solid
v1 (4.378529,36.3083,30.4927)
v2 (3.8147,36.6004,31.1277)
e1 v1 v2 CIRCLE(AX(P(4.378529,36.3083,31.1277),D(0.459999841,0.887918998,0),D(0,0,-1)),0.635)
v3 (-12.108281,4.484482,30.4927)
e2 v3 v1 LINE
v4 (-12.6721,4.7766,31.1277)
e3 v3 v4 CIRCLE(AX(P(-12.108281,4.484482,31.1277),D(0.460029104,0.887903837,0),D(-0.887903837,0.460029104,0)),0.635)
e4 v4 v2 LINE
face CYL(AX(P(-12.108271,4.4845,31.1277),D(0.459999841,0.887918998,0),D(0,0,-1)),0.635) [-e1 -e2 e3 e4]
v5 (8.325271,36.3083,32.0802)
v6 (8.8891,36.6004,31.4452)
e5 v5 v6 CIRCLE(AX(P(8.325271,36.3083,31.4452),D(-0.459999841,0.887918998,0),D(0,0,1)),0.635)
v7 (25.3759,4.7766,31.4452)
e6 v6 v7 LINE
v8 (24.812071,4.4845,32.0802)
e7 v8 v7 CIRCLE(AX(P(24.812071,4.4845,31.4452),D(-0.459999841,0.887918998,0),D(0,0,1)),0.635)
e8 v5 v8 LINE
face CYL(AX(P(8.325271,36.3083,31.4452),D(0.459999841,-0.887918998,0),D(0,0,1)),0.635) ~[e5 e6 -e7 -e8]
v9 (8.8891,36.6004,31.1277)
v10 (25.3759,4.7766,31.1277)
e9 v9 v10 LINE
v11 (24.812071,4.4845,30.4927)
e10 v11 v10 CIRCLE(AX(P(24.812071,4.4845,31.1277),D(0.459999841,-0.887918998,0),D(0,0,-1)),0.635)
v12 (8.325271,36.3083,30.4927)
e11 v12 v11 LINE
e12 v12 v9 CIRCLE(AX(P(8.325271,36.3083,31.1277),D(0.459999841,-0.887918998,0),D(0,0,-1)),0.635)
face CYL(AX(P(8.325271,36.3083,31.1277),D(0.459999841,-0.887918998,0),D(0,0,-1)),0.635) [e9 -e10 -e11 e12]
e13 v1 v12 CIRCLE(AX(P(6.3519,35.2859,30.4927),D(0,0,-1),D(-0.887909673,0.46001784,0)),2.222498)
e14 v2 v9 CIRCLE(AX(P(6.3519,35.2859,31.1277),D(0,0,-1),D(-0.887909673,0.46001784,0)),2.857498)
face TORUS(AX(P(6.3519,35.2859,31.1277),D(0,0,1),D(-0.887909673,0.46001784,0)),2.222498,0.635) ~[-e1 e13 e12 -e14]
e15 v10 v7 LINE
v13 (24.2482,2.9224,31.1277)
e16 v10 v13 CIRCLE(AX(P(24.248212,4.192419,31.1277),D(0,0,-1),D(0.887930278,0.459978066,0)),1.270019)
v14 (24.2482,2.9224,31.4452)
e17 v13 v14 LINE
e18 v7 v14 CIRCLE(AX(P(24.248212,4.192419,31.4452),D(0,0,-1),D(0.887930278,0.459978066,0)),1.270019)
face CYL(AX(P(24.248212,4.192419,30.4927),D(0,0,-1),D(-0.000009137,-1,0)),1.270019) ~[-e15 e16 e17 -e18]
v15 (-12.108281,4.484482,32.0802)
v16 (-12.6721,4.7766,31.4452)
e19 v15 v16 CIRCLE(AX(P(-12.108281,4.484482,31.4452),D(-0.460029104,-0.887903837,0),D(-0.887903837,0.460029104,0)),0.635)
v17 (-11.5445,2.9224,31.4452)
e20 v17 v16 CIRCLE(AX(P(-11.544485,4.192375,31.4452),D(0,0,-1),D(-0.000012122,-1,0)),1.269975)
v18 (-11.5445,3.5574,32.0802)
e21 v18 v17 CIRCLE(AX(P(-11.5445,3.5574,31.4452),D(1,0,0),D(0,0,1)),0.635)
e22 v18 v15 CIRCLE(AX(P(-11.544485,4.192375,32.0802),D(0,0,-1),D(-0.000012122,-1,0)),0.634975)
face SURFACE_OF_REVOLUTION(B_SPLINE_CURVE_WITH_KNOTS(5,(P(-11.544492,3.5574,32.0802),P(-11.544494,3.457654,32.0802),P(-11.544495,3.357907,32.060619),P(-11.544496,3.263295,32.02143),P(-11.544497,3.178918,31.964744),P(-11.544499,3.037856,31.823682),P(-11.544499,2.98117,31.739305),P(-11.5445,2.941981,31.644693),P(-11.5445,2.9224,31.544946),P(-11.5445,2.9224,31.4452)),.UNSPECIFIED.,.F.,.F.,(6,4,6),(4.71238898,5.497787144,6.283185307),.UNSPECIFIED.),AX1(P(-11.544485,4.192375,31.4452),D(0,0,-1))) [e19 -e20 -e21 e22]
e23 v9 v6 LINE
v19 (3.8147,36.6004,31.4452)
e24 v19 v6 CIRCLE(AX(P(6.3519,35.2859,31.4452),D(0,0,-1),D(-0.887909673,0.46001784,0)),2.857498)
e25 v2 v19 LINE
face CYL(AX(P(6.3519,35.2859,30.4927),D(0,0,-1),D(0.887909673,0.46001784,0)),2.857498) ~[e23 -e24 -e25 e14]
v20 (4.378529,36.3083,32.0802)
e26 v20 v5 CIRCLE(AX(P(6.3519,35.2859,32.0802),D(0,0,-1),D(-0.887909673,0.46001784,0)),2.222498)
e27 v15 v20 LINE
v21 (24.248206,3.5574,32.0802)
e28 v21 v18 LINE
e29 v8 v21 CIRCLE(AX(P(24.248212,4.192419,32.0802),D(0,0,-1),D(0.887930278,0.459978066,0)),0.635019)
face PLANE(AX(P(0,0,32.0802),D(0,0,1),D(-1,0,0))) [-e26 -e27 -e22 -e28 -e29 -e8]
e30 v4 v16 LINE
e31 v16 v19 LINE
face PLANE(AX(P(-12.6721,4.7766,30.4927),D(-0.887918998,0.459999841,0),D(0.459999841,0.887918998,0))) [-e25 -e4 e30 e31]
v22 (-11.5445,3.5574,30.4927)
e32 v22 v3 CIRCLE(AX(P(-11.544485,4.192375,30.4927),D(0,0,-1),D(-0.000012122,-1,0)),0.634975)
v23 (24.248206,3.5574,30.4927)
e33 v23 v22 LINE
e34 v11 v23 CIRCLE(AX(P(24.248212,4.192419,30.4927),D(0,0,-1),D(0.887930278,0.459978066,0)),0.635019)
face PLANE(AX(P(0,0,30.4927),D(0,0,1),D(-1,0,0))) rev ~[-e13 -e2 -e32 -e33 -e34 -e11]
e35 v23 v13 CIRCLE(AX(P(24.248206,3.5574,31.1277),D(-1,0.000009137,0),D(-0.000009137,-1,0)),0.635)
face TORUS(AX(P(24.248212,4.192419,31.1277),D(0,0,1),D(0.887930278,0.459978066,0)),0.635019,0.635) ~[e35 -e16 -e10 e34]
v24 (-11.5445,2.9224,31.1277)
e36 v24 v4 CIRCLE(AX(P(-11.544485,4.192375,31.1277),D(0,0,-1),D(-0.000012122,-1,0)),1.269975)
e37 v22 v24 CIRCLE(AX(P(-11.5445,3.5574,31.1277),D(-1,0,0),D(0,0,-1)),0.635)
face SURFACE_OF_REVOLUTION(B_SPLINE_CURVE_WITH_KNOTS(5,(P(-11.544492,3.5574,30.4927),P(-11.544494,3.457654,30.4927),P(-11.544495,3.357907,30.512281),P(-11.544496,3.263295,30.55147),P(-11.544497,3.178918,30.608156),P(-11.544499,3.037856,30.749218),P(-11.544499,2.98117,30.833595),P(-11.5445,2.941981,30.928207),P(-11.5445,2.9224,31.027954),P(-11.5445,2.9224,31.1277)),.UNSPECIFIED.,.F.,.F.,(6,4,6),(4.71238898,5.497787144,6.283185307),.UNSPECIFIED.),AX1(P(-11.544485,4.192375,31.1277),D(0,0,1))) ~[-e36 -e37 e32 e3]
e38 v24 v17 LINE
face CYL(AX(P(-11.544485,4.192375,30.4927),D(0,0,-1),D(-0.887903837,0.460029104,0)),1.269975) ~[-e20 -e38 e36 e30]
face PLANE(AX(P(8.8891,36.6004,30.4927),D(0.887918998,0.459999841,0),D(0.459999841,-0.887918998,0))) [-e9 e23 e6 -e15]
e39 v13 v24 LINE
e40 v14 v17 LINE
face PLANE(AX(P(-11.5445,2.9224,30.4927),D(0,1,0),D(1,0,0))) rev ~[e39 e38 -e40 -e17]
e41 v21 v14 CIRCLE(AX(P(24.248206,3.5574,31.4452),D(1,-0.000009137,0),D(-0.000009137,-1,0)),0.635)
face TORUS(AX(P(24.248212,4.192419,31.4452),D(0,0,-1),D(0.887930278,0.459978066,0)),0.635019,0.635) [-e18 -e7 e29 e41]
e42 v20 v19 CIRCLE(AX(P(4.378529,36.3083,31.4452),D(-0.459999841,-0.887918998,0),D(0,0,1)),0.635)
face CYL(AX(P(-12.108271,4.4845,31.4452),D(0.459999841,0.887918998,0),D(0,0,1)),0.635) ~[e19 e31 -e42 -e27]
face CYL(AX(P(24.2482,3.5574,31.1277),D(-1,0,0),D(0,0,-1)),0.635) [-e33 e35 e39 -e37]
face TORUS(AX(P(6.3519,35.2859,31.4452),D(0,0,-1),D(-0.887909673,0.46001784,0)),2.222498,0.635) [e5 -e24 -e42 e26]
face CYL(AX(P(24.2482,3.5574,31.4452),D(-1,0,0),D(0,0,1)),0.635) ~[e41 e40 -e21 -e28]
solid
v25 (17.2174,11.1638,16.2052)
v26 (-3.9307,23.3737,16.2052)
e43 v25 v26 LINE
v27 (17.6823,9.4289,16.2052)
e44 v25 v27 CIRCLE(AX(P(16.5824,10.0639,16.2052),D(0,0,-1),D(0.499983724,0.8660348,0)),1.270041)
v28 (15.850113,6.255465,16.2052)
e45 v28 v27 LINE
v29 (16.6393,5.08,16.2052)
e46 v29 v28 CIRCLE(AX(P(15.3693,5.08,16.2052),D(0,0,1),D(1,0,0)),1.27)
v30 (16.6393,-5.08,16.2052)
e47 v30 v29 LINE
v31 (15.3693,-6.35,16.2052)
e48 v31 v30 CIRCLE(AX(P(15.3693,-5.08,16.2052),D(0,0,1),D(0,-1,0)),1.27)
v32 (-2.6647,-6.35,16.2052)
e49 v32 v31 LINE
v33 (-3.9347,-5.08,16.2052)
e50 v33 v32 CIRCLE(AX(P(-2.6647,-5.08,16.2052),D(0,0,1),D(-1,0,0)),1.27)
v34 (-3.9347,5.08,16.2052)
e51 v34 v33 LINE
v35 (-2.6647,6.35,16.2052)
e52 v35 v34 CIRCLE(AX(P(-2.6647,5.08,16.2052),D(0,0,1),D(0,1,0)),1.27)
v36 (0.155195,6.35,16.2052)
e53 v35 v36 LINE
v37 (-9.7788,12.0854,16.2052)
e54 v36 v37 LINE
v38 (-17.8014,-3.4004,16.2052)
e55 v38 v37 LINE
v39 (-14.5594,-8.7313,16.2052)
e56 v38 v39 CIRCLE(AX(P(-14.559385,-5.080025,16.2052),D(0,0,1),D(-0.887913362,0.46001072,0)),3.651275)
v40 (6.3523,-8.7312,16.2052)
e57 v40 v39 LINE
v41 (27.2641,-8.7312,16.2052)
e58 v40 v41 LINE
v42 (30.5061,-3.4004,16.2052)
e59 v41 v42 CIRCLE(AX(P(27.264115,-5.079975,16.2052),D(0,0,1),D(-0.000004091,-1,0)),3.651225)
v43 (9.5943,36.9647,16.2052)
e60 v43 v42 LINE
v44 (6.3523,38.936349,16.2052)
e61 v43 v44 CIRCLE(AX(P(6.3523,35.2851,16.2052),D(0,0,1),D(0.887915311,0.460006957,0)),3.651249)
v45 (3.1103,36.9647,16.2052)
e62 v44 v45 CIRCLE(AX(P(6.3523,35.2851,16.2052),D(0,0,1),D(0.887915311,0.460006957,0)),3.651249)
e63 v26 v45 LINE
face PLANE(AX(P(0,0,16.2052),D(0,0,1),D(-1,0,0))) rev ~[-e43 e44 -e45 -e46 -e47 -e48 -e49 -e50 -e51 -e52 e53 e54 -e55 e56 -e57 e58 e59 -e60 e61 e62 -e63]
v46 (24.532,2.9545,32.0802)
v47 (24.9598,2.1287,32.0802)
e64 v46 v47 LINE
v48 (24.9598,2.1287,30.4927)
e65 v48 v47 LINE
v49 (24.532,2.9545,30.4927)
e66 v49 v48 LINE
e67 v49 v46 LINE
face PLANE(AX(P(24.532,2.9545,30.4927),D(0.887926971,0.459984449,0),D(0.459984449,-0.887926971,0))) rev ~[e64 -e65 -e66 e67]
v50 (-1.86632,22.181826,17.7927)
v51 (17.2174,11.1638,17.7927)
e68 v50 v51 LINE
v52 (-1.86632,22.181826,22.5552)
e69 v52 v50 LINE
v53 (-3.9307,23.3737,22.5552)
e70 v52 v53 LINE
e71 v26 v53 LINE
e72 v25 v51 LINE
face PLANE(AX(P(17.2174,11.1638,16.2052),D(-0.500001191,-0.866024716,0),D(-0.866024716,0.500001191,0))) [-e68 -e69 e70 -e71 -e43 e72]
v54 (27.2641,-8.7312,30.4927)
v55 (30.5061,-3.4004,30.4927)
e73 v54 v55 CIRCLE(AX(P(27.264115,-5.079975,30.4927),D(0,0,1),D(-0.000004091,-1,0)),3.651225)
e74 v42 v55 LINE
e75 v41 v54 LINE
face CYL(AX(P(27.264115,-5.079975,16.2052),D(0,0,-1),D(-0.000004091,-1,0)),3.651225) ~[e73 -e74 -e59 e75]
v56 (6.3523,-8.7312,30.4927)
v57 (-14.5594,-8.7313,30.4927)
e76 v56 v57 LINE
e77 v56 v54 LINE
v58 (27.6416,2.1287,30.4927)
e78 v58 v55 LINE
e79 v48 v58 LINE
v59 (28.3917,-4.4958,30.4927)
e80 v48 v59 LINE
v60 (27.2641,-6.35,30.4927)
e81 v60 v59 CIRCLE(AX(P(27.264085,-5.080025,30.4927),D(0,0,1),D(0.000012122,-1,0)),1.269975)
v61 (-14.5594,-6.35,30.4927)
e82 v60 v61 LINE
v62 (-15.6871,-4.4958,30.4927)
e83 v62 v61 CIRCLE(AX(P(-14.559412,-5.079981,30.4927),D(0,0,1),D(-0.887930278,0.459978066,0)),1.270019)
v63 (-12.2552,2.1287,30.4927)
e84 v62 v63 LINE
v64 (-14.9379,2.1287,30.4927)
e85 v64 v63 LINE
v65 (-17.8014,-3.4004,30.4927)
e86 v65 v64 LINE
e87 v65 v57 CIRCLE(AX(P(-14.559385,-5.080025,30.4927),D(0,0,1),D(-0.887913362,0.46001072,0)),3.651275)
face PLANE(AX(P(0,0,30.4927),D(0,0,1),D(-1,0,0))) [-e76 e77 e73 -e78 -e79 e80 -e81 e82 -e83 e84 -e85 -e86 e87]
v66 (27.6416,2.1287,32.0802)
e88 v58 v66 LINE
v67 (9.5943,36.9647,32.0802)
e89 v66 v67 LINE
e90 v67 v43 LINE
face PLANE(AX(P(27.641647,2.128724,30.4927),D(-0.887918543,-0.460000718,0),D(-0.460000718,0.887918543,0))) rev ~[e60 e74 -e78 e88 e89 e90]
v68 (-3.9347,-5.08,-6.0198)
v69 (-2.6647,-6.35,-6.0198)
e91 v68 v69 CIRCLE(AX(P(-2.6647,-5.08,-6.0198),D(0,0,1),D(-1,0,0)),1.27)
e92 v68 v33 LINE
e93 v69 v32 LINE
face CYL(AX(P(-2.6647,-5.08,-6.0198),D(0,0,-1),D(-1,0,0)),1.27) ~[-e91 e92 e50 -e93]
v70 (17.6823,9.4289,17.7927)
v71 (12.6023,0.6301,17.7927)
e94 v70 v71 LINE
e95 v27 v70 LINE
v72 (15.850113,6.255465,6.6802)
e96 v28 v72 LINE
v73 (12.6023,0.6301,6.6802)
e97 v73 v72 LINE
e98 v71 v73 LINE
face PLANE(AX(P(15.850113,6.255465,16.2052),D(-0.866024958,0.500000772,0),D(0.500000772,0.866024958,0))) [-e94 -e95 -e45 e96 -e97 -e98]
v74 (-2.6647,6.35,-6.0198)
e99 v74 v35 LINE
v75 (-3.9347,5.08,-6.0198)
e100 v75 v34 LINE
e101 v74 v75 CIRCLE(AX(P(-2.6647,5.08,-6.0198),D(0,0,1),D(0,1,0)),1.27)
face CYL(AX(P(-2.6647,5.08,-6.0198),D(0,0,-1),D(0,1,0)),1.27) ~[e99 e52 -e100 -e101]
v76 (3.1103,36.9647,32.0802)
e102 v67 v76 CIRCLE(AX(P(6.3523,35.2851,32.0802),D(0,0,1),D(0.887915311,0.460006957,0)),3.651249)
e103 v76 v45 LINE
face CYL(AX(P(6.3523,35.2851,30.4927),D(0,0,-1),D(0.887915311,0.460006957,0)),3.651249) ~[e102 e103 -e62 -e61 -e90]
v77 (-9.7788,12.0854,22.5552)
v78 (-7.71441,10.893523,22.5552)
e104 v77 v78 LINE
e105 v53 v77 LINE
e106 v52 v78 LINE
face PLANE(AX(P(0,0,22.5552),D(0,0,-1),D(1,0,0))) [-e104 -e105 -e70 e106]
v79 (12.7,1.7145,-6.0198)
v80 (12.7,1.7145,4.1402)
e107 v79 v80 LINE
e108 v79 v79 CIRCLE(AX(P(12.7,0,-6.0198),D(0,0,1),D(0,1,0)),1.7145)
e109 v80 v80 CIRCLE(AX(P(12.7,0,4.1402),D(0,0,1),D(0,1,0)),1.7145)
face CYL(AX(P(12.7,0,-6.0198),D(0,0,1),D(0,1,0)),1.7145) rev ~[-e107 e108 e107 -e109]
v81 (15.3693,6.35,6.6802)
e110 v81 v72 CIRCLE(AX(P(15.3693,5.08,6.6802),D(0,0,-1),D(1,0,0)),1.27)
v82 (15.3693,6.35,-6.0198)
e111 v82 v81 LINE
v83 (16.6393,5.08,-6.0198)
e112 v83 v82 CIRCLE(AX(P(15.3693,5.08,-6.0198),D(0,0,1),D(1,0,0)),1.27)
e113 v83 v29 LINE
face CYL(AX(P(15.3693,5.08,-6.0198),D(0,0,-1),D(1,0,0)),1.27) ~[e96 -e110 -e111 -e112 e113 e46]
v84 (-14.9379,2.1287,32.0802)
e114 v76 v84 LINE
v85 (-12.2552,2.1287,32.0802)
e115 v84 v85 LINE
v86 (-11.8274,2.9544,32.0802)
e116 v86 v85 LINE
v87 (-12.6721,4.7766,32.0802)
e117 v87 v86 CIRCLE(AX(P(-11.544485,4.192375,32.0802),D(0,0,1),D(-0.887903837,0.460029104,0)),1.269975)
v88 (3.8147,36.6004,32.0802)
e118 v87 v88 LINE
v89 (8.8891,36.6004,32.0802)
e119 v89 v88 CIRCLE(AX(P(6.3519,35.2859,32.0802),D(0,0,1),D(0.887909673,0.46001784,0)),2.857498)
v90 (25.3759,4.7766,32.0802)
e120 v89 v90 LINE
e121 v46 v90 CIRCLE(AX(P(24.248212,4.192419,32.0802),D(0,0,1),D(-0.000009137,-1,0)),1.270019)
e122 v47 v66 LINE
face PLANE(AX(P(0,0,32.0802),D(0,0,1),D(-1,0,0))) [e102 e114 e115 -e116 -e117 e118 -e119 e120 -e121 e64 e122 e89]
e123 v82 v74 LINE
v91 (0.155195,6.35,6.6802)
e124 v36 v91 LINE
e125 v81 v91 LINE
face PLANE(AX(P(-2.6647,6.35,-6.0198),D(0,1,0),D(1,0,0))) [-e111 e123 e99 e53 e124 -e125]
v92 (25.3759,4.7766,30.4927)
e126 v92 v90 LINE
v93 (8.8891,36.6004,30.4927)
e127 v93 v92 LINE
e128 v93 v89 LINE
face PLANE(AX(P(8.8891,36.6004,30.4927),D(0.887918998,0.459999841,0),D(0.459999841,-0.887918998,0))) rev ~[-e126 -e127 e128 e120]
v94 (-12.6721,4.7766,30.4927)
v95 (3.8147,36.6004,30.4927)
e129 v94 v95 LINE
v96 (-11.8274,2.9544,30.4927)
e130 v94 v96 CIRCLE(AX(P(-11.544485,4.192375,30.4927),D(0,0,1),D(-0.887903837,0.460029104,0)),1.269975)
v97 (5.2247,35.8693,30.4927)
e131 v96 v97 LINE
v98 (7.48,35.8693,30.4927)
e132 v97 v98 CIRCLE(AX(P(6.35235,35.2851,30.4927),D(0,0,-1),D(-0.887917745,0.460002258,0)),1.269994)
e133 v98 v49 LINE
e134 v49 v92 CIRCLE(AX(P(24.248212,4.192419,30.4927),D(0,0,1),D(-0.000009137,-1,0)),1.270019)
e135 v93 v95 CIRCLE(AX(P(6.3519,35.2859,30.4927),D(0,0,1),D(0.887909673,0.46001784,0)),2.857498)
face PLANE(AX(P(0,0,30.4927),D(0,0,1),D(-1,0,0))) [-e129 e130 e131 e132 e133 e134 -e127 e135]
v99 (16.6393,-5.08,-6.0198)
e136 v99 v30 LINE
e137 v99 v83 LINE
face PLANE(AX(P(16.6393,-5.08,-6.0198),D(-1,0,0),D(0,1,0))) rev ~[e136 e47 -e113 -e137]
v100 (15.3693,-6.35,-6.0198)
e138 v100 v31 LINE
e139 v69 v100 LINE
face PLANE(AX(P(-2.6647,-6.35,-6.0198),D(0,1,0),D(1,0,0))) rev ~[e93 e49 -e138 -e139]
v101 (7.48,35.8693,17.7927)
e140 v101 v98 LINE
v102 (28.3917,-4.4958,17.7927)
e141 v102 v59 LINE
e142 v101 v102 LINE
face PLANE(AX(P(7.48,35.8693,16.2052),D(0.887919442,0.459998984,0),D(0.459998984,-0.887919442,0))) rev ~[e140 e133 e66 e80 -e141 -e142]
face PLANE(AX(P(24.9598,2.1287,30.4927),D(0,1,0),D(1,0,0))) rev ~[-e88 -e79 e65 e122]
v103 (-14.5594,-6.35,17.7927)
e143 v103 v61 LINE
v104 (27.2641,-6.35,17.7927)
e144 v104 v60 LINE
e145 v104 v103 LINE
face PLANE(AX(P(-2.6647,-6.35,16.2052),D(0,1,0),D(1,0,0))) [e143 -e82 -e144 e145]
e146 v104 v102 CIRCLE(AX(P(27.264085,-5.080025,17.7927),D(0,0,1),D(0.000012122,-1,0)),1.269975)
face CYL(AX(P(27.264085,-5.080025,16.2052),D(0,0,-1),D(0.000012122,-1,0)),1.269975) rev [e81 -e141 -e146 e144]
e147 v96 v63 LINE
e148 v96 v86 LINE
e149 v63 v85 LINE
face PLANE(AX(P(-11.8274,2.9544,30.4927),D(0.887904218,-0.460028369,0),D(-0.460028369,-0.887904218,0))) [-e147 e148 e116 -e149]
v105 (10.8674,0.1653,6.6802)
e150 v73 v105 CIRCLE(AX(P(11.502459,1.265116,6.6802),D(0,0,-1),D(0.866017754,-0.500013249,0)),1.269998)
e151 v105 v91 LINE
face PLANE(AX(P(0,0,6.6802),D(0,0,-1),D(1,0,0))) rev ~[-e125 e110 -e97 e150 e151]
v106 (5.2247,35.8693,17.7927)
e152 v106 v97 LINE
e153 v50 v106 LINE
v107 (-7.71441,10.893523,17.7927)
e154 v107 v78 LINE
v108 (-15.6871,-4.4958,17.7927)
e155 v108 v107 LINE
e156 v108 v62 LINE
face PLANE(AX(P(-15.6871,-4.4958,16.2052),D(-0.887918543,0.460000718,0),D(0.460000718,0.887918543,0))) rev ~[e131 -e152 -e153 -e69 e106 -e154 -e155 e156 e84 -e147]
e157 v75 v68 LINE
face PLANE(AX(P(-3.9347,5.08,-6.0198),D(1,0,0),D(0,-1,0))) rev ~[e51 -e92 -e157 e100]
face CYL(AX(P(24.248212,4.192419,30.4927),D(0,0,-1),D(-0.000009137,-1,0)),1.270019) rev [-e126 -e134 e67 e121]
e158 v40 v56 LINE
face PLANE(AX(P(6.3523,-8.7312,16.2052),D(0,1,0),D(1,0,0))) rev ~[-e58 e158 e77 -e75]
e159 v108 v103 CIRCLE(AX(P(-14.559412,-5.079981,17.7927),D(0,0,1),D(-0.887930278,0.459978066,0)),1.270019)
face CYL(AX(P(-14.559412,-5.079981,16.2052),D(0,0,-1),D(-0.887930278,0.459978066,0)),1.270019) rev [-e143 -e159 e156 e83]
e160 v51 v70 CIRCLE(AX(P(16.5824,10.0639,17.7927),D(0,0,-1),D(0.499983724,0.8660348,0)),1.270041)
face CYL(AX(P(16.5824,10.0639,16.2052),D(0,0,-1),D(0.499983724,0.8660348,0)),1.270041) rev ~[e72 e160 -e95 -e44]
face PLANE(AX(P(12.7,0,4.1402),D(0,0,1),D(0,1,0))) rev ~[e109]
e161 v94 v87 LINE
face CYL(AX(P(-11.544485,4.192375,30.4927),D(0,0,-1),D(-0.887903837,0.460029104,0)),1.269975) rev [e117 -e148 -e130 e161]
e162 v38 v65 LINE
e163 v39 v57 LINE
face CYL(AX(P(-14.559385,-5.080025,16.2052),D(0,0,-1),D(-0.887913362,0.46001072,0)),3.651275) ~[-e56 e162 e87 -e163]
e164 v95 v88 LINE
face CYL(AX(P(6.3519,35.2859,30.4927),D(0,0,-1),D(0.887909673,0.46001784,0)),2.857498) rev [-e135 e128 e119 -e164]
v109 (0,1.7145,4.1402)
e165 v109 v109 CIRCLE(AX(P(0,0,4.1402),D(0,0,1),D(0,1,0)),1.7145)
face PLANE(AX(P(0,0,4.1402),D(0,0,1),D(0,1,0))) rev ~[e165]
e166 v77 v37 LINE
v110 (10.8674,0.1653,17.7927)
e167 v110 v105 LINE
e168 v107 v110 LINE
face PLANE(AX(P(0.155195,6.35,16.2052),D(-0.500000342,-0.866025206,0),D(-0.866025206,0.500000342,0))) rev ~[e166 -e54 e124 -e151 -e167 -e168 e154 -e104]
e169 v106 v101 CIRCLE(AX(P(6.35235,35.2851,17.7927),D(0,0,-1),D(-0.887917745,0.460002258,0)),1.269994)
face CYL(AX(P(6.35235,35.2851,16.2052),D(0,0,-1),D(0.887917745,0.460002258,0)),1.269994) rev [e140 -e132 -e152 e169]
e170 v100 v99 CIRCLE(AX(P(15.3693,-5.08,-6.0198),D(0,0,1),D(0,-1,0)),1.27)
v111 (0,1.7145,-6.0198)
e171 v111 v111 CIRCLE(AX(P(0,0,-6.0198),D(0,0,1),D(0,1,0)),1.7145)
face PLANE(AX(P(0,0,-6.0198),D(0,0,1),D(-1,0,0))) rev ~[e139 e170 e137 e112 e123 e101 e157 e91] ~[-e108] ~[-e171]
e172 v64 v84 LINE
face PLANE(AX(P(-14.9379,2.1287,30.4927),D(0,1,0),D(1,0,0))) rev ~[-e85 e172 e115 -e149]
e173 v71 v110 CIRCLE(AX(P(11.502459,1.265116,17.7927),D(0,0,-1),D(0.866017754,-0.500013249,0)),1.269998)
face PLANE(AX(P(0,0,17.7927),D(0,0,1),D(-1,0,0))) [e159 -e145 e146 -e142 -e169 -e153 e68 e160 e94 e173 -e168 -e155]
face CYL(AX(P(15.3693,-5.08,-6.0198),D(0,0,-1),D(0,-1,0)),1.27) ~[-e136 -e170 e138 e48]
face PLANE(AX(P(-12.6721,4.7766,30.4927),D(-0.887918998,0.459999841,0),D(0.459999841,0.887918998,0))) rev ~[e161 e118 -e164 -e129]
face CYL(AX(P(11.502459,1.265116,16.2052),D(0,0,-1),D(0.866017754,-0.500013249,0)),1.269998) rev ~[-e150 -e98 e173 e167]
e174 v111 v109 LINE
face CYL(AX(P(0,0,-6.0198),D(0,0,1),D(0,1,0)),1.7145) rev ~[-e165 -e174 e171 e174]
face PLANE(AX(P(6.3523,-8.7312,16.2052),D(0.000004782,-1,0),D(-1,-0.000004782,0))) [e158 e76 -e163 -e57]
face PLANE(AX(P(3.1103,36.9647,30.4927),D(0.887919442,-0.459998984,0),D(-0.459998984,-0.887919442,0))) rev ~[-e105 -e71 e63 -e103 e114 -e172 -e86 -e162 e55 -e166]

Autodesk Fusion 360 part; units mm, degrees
sketch "Sketch5" plane through (0, 0, -6.0198) normal (0, 0, 1) x (-1, 0, 0)
  line L0 (-4.0409, -57.15) -> (2.9359, -57.15)
  line L1 (2.9359, -57.15) -> (3.9347, -56.1512)
  line L2 (3.9347, -56.1512) -> (3.9347, 6.35)
  line L3 (3.9347, 6.35) -> (-16.6393, 6.35)
  line L4 (-16.6393, 6.35) -> (-16.6393, -56.1512)
  line L5 (-16.6393, -56.1512) -> (-15.6405, -57.15)
  line L6 (-15.6405, -57.15) -> (-8.6637, -57.15)
  line L7 (-8.6637, -57.15) -> (-8.6637, -55.3466)
  arc A0 (-8.1557, -54.8386) -> (-8.6637, -55.3466) centre (-8.1557, -55.3466) ccw
  line L8 (-8.1557, -54.8386) -> (-4.5489, -54.8386)
  arc A1 (-4.0409, -55.3466) -> (-4.5489, -54.8386) centre (-4.5489, -55.3466) ccw
  line L9 (-4.0409, -55.3466) -> (-4.0409, -57.15)
  arc A2 (-8.1557, -42.1386) -> (-8.6637, -42.6466) centre (-8.1557, -42.6466) ccw
  line L10 (-8.1557, -42.1386) -> (-4.5489, -42.1386)
  arc A3 (-4.0409, -42.6466) -> (-4.5489, -42.1386) centre (-4.5489, -42.6466) ccw
  line L11 (-4.0409, -42.6466) -> (-4.0409, -46.2534)
  arc A4 (-4.5489, -46.7614) -> (-4.0409, -46.2534) centre (-4.5489, -46.2534) ccw
  line L12 (-4.5489, -46.7614) -> (-8.1557, -46.7614)
  arc A5 (-8.6637, -46.2534) -> (-8.1557, -46.7614) centre (-8.1557, -46.2534) ccw
  line L13 (-8.6637, -46.2534) -> (-8.6637, -42.6466)
  arc A6 (-8.1557, -29.4386) -> (-8.6637, -29.9466) centre (-8.1557, -29.9466) ccw
  line L14 (-8.1557, -29.4386) -> (-4.5489, -29.4386)
  arc A7 (-4.0409, -29.9466) -> (-4.5489, -29.4386) centre (-4.5489, -29.9466) ccw
  line L15 (-4.0409, -29.9466) -> (-4.0409, -33.5534)
  arc A8 (-4.5489, -34.0614) -> (-4.0409, -33.5534) centre (-4.5489, -33.5534) ccw
  line L16 (-4.5489, -34.0614) -> (-8.1557, -34.0614)
  arc A9 (-8.6637, -33.5534) -> (-8.1557, -34.0614) centre (-8.1557, -33.5534) ccw
  line L17 (-8.6637, -33.5534) -> (-8.6637, -29.9466)
  arc A10 (1.8011, -53.1114) -> (2.3091, -52.6034) centre (1.8011, -52.6034) ccw
  line L18 (1.8011, -53.1114) -> (-1.8057, -53.1114)
  arc A11 (-2.3137, -52.6034) -> (-1.8057, -53.1114) centre (-1.8057, -52.6034) ccw
  line L19 (-2.3137, -52.6034) -> (-2.3137, -48.9966)
  arc A12 (-1.8057, -48.4886) -> (-2.3137, -48.9966) centre (-1.8057, -48.9966) ccw
  line L20 (-1.8057, -48.4886) -> (1.8011, -48.4886)
  arc A13 (2.3091, -48.9966) -> (1.8011, -48.4886) centre (1.8011, -48.9966) ccw
  line L21 (2.3091, -48.9966) -> (2.3091, -52.6034)
  arc A14 (1.8011, -40.4114) -> (2.3091, -39.9034) centre (1.8011, -39.9034) ccw
  line L22 (1.8011, -40.4114) -> (-1.8057, -40.4114)
  arc A15 (-2.3137, -39.9034) -> (-1.8057, -40.4114) centre (-1.8057, -39.9034) ccw
  line L23 (-2.3137, -39.9034) -> (-2.3137, -36.2966)
  arc A16 (-1.8057, -35.7886) -> (-2.3137, -36.2966) centre (-1.8057, -36.2966) ccw
  line L24 (-1.8057, -35.7886) -> (1.8011, -35.7886)
  arc A17 (2.3091, -36.2966) -> (1.8011, -35.7886) centre (1.8011, -36.2966) ccw
  line L25 (2.3091, -36.2966) -> (2.3091, -39.9034)
  arc A18 (1.8011, -27.7114) -> (2.3091, -27.2034) centre (1.8011, -27.2034) ccw
  line L26 (1.8011, -27.7114) -> (-1.8057, -27.7114)
  arc A19 (-2.3137, -27.2034) -> (-1.8057, -27.7114) centre (-1.8057, -27.2034) ccw
  line L27 (-2.3137, -27.2034) -> (-2.3137, -23.5966)
  arc A20 (-1.8057, -23.0886) -> (-2.3137, -23.5966) centre (-1.8057, -23.5966) ccw
  line L28 (-1.8057, -23.0886) -> (1.8011, -23.0886)
  arc A21 (2.3091, -23.5966) -> (1.8011, -23.0886) centre (1.8011, -23.5966) ccw
  line L29 (2.3091, -23.5966) -> (2.3091, -27.2034)
  arc A22 (1.8011, -15.0114) -> (2.3091, -14.5034) centre (1.8011, -14.5034) ccw
  line L30 (1.8011, -15.0114) -> (-1.8057, -15.0114)
  arc A23 (-2.3137, -14.5034) -> (-1.8057, -15.0114) centre (-1.8057, -14.5034) ccw
  line L31 (-2.3137, -14.5034) -> (-2.3137, -10.8966)
  arc A24 (-1.8057, -10.3886) -> (-2.3137, -10.8966) centre (-1.8057, -10.8966) ccw
  line L32 (-1.8057, -10.3886) -> (1.8011, -10.3886)
  arc A25 (2.3091, -10.8966) -> (1.8011, -10.3886) centre (1.8011, -10.8966) ccw
  line L33 (2.3091, -10.8966) -> (2.3091, -14.5034)
  arc A26 (1.8011, -2.3114) -> (2.3091, -1.8034) centre (1.8011, -1.8034) ccw
  line L34 (1.8011, -2.3114) -> (-1.8057, -2.3114)
  arc A27 (-2.3137, -1.8034) -> (-1.8057, -2.3114) centre (-1.8057, -1.8034) ccw
  line L35 (-2.3137, -1.8034) -> (-2.3137, 1.8034)
  arc A28 (-1.8057, 2.3114) -> (-2.3137, 1.8034) centre (-1.8057, 1.8034) ccw
  line L36 (-1.8057, 2.3114) -> (1.8011, 2.3114)
  arc A29 (2.3091, 1.8034) -> (1.8011, 2.3114) centre (1.8011, 1.8034) ccw
  line L37 (2.3091, 1.8034) -> (2.3091, -1.8034)
  arc A30 (-10.8989, -53.1114) -> (-10.3909, -52.6034) centre (-10.8989, -52.6034) ccw
  line L38 (-10.8989, -53.1114) -> (-14.5057, -53.1114)
  arc A31 (-15.0137, -52.6034) -> (-14.5057, -53.1114) centre (-14.5057, -52.6034) ccw
  line L39 (-15.0137, -52.6034) -> (-15.0137, -48.9966)
  arc A32 (-14.5057, -48.4886) -> (-15.0137, -48.9966) centre (-14.5057, -48.9966) ccw
  line L40 (-14.5057, -48.4886) -> (-10.8989, -48.4886)
  arc A33 (-10.3909, -48.9966) -> (-10.8989, -48.4886) centre (-10.8989, -48.9966) ccw
  line L41 (-10.3909, -48.9966) -> (-10.3909, -52.6034)
  arc A34 (-10.8989, -40.4114) -> (-10.3909, -39.9034) centre (-10.8989, -39.9034) ccw
  line L42 (-10.8989, -40.4114) -> (-14.5057, -40.4114)
  arc A35 (-15.0137, -39.9034) -> (-14.5057, -40.4114) centre (-14.5057, -39.9034) ccw
  line L43 (-15.0137, -39.9034) -> (-15.0137, -36.2966)
  arc A36 (-14.5057, -35.7886) -> (-15.0137, -36.2966) centre (-14.5057, -36.2966) ccw
  line L44 (-14.5057, -35.7886) -> (-10.8989, -35.7886)
  arc A37 (-10.3909, -36.2966) -> (-10.8989, -35.7886) centre (-10.8989, -36.2966) ccw
  line L45 (-10.3909, -36.2966) -> (-10.3909, -39.9034)
  arc A38 (-10.8989, -27.7114) -> (-10.3909, -27.2034) centre (-10.8989, -27.2034) ccw
  line L46 (-10.8989, -27.7114) -> (-14.5057, -27.7114)
  arc A39 (-15.0137, -27.2034) -> (-14.5057, -27.7114) centre (-14.5057, -27.2034) ccw
  line L47 (-15.0137, -27.2034) -> (-15.0137, -23.5966)
  arc A40 (-14.5057, -23.0886) -> (-15.0137, -23.5966) centre (-14.5057, -23.5966) ccw
  line L48 (-14.5057, -23.0886) -> (-10.8989, -23.0886)
  arc A41 (-10.3909, -23.5966) -> (-10.8989, -23.0886) centre (-10.8989, -23.5966) ccw
  line L49 (-10.3909, -23.5966) -> (-10.3909, -27.2034)
  arc A42 (-10.8989, -15.0114) -> (-10.3909, -14.5034) centre (-10.8989, -14.5034) ccw
  line L50 (-10.8989, -15.0114) -> (-14.5057, -15.0114)
  arc A43 (-15.0137, -14.5034) -> (-14.5057, -15.0114) centre (-14.5057, -14.5034) ccw
  line L51 (-15.0137, -14.5034) -> (-15.0137, -10.8966)
  arc A44 (-14.5057, -10.3886) -> (-15.0137, -10.8966) centre (-14.5057, -10.8966) ccw
  line L52 (-14.5057, -10.3886) -> (-10.8989, -10.3886)
  arc A45 (-10.3909, -10.8966) -> (-10.8989, -10.3886) centre (-10.8989, -10.8966) ccw
  line L53 (-10.3909, -10.8966) -> (-10.3909, -14.5034)
  arc A46 (-10.8989, -2.3114) -> (-10.3909, -1.8034) centre (-10.8989, -1.8034) ccw
  line L54 (-10.8989, -2.3114) -> (-14.5057, -2.3114)
  arc A47 (-15.0137, -1.8034) -> (-14.5057, -2.3114) centre (-14.5057, -1.8034) ccw
  line L55 (-15.0137, -1.8034) -> (-15.0137, 1.8034)
  arc A48 (-14.5057, 2.3114) -> (-15.0137, 1.8034) centre (-14.5057, 1.8034) ccw
  line L56 (-14.5057, 2.3114) -> (-10.8989, 2.3114)
  arc A49 (-10.3909, 1.8034) -> (-10.8989, 2.3114) centre (-10.8989, 1.8034) ccw
  line L57 (-10.3909, 1.8034) -> (-10.3909, -1.8034)
  arc A50 (-8.6637, -8.1534) -> (-8.1557, -8.6614) centre (-8.1557, -8.1534) ccw
  line L58 (-8.6637, -8.1534) -> (-8.6637, -4.5466)
  arc A51 (-8.1557, -4.0386) -> (-8.6637, -4.5466) centre (-8.1557, -4.5466) ccw
  line L59 (-8.1557, -4.0386) -> (-4.5489, -4.0386)
  arc A52 (-4.0409, -4.5466) -> (-4.5489, -4.0386) centre (-4.5489, -4.5466) ccw
  line L60 (-4.0409, -4.5466) -> (-4.0409, -8.1534)
  arc A53 (-4.5489, -8.6614) -> (-4.0409, -8.1534) centre (-4.5489, -8.1534) ccw
  line L61 (-4.5489, -8.6614) -> (-8.1557, -8.6614)
  arc A54 (-8.1557, -16.7386) -> (-8.6637, -17.2466) centre (-8.1557, -17.2466) ccw
  line L62 (-8.1557, -16.7386) -> (-4.5489, -16.7386)
  arc A55 (-4.0409, -17.2466) -> (-4.5489, -16.7386) centre (-4.5489, -17.2466) ccw
  line L63 (-4.0409, -17.2466) -> (-4.0409, -20.8534)
  arc A56 (-4.5489, -21.3614) -> (-4.0409, -20.8534) centre (-4.5489, -20.8534) ccw
  line L64 (-4.5489, -21.3614) -> (-8.1557, -21.3614)
  arc A57 (-8.6637, -20.8534) -> (-8.1557, -21.3614) centre (-8.1557, -20.8534) ccw
  line L65 (-8.6637, -20.8534) -> (-8.6637, -17.2466)
  line L66 (3.9347, 5.08) -> (3.9347, -5.08)
  line L67 (2.6647, -6.35) -> (-15.3693, -6.35)
  line L68 (-16.6393, -5.08) -> (-16.6393, 5.08)
  line L69 (-15.3693, 6.35) -> (2.6647, 6.35)
  arc A58 (2.6647, -6.35) -> (3.9347, -5.08) centre (2.6647, -5.08) ccw
  arc A59 (3.9347, 5.08) -> (2.6647, 6.35) centre (2.6647, 5.08) ccw
  arc A60 (-16.6393, -5.08) -> (-15.3693, -6.35) centre (-15.3693, -5.08) ccw
  arc A61 (-15.3693, 6.35) -> (-16.6393, 5.08) centre (-15.3693, 5.08) ccw
  point P0 (3.9347, 6.35)
  point P1 (3.9347, -6.35)
  dimension "d56" = 12.7
  dimension "d57" = 1.27
extrude "Extrude8" add sketch "Sketch5" along normal blind 22.225 contours L2 L3 L4 L58 A51 L59 A52 L60 L66 L67 L68 L69 A58 A59 A60 A61 | L58 A51 L59 A52 L60 L67 | A26 L34 A27 L35 A28 L36 A29 L37 | A46 L54 A47 L55 A48 L56 A49 L57 makes body 1
sketch "Sketch9" plane through (0, 0, 16.2052) normal (0, 0, 1) x (-1, 0, 0)
  arc A0 (3.9347, 5.08) -> (2.6647, 6.35) centre (2.6647, 5.08) ccw
  line L0 (2.6647, 6.35) -> (-15.3693, 6.35)
  arc A1 (-15.3693, 6.35) -> (-16.6393, 5.08) centre (-15.3693, 5.08) ccw
  line L1 (-16.6393, 5.08) -> (-16.6393, -5.08)
  arc A2 (-16.6393, -5.08) -> (-15.3693, -6.35) centre (-15.3693, -5.08) ccw
  line L2 (-15.3693, -6.35) -> (2.6647, -6.35)
  arc A3 (2.6647, -6.35) -> (3.9347, -5.08) centre (2.6647, -5.08) ccw
  line L3 (3.9347, -5.08) -> (3.9347, 5.08)
  line L4 (-6.3523, 6.35) -> (-27.2641, 6.35)
  line L5 (-6.3523, 6.35) -> (14.5594, 6.35)
  line L6 (-6.3523, 6.35) -> (-6.3523, -83.9563)
  line L7 (15.6871, 4.4958) -> (-5.2247, -35.8693)
  line L8 (-7.48, -35.8693) -> (-28.3917, 4.4958)
  arc A4 (-7.48, -35.8693) -> (-5.2247, -35.8693) centre (-6.3523, -35.2851) ccw
  arc A5 (-27.2641, 6.35) -> (-28.3917, 4.4958) centre (-27.2641, 5.08) ccw
  arc A6 (15.6871, 4.4958) -> (14.5594, 6.35) centre (14.5594, 5.08) ccw
  line L9 (-6.3523, 8.7312) -> (-27.2641, 8.7312)
  arc A7 (-27.2641, 8.7312) -> (-30.5061, 3.4004) centre (-27.2641, 5.08) ccw
  line L10 (-9.5943, -36.9647) -> (-30.5061, 3.4004)
  arc A8 (-9.5943, -36.9647) -> (-3.1103, -36.9647) centre (-6.3523, -35.2851) ccw
  line L11 (17.8014, 3.4004) -> (-3.1103, -36.9647)
  arc A9 (17.8014, 3.4004) -> (14.5594, 8.7313) centre (14.5594, 5.08) ccw
  line L12 (-6.3523, 8.7312) -> (14.5594, 8.7312)
  point P0 (-29.3523, 6.35)
  point P1 (16.6477, 6.35)
  point P2 (-6.3523, -38.0459)
  dimension "d100" = 23
  dimension "d101" = 23
  dimension "d102" = 50
  dimension "d103" = 1.27
  dimension "d104" = -2.3813
extrude "Extrude15" add sketch "Sketch9" along normal blind 14.2875 separate body makes body 2
extrude "Extrude16" add sketch "Sketch9" along normal blind 1.5875 contours A0 L0 L2 A3 L3 L5 L6 | A0 L2 A3 L3 L5 L6 L7 A4 A6 | L0 A1 L1 A2 L2 L4 L6 | A1 L1 A2 L2 L4 L6 L8 A4 A5 bodies 1 2
sketch "Sketch10" plane through (0, 0, 16.2052) normal (0, 0, -1) x (1, 0, 0)
  arc A0 (16.6393, 5.08) -> (15.3693, 6.35) centre (15.3693, 5.08) ccw
  line L0 (16.6393, 5.08) -> (16.6393, -5.08)
  arc A1 (15.3693, -6.35) -> (16.6393, -5.08) centre (15.3693, -5.08) ccw
  line L1 (15.3693, -6.35) -> (-2.6647, -6.35)
  arc A2 (-3.9347, -5.08) -> (-2.6647, -6.35) centre (-2.6647, -5.08) ccw
  line L2 (-3.9347, -5.08) -> (-3.9347, 5.08)
  arc A3 (-2.6647, 6.35) -> (-3.9347, 5.08) centre (-2.6647, 5.08) ccw
  line L3 (-2.6647, 6.35) -> (15.3693, 6.35)
  arc A4 (30.5061, 3.4004) -> (27.2641, 8.7312) centre (27.2641, 5.08) ccw
  line L4 (27.2641, 8.7312) -> (-14.5594, 8.7312)
  arc A5 (-14.5594, 8.7312) -> (-17.8014, 3.4004) centre (-14.5594, 5.08) ccw
  line L5 (-17.8014, 3.4004) -> (3.1103, -36.9647)
  arc A6 (3.1103, -36.9647) -> (9.5943, -36.9647) centre (6.3523, -35.2851) ccw
  line L6 (9.5943, -36.9647) -> (30.5061, 3.4004)
  line L7 (7.0603, -44.5891) -> (-20.7698, 9.13)
  line L8 (-6.8547, -17.7295) -> (15.1423, -5.0295)
  line L9 (-6.8547, -17.7295) -> (11.4408, -17.7295) construction
  line L10 (15.1423, -5.0295) -> (12.6023, -0.6301)
  line L11 (10.8674, -0.1653) -> (-9.7788, -12.0854)
  line L12 (15.1423, -5.0295) -> (17.6823, -9.4289)
  line L13 (17.2174, -11.1638) -> (-3.9307, -23.3737)
  line L14 (-3.9307, -23.3737) -> (-9.7788, -12.0854)
  arc A7 (17.2174, -11.1638) -> (17.6823, -9.4289) centre (16.5824, -10.0639) ccw
  arc A8 (12.6023, -0.6301) -> (10.8674, -0.1653) centre (11.5024, -1.2651) ccw
  point P0 (11.9673, 0.4697)
  point P1 (18.3173, -10.5288)
  dimension "d109" = 30
  dimension "d110" = 25.4
  dimension "d111" = 6.35
  dimension "d112" = 90
  dimension "d113" = 6.35
  dimension "d114" = 90
  dimension "d115" = 1.27
extrude "Extrude17" cut sketch "Sketch10" against normal blind 1.6002 contours A1 L1 L5 L7 L8 L12 L13 L14 A7 | A1 L1 L8 L12 | L1 L8 L10 L11 A8 | L1 L5 L7 L8 L11 L14 bodies 1
extrude "Extrude18" cut sketch "Sketch10" along normal blind 9.525 contours A1 L1 L5 L7 L8 L12 L13 L14 A7 | A1 L1 L8 L12 | L1 L8 L10 L11 A8 | L1 L5 L7 L8 L11 L14 bodies 1
sketch "Sketch11" plane through (0, 0, 30.4927) normal (0, 0, 1) x (-1, 0, 0)
  arc A0 (-7.48, -35.8693) -> (-5.2247, -35.8693) centre (-6.3523, -35.2851) ccw
  line L0 (-7.48, -35.8693) -> (-28.3917, 4.4958)
  arc A1 (-27.2641, 6.35) -> (-28.3917, 4.4958) centre (-27.2641, 5.08) ccw
  line L1 (-27.2641, 6.35) -> (14.5594, 6.35)
  arc A2 (15.6871, 4.4958) -> (14.5594, 6.35) centre (14.5594, 5.08) ccw
  line L2 (15.6871, 4.4958) -> (-5.2247, -35.8693)
  arc A3 (-27.2641, 8.7312) -> (-30.5061, 3.4004) centre (-27.2641, 5.08) ccw
  line L3 (-30.5061, 3.4004) -> (-9.5943, -36.9647)
  arc A4 (-9.5943, -36.9647) -> (-3.1103, -36.9647) centre (-6.3523, -35.2851) ccw
  line L4 (-3.1103, -36.9647) -> (17.8014, 3.4004)
  arc A5 (17.8014, 3.4004) -> (14.5594, 8.7313) centre (14.5594, 5.08) ccw
  line L5 (14.5594, 8.7313) -> (-27.2641, 8.7312)
  line L6 (20.7799, 9.1479) -> (14.9379, -2.1287)
  line L7 (14.9379, -2.1287) -> (-27.6416, -2.1287)
  line L8 (14.9379, -2.1287) -> (-3.1099, -36.9655)
  line L9 (-9.5939, -36.9655) -> (-27.6416, -2.1287)
  arc A6 (-9.5939, -36.9655) -> (-3.1099, -36.9655) centre (-6.3519, -35.2859) ccw
  line L10 (12.6721, -4.7766) -> (-3.8147, -36.6004)
  arc A7 (-8.8891, -36.6004) -> (-3.8147, -36.6004) centre (-6.3519, -35.2859) ccw
  line L11 (-8.8891, -36.6004) -> (-25.3759, -4.7766)
  line L12 (11.5445, -2.9224) -> (-24.2482, -2.9224)
  arc A8 (12.6721, -4.7766) -> (11.5445, -2.9224) centre (11.5445, -4.1924) ccw
  arc A9 (-24.2482, -2.9224) -> (-25.3759, -4.7766) centre (-24.2482, -4.1924) ccw
  line L13 (11.8274, -2.9544) -> (12.2552, -2.1287)
  line L14 (-24.532, -2.9545) -> (-24.9598, -2.1287)
  dimension "d122" = 12.7
  dimension "d123" = 3.6513
  dimension "d125" = 1.27
extrude "Extrude19" add sketch "Sketch11" along normal blind 1.5875 contours L0 L2 L3 A4 L4 L7 L8 L9 A6 L10 A7 L11 A8 A9 L13 L14 bodies 1
extrude "Extrude20" add sketch "Sketch11" along normal blind 1.5875 separate body contours A0 L0 L2 L12 A8 A9 | A0 L0 L2 L10 A7 L11 A8 A9 makes body 3
move_body "Move5" bodies 3 to x (1, 0, 0) y (0, 1, 0) z (0, 0, 1) at (0, 0, 12.7)
fillet "Fillet8" radius 0.635 12 edges at (17.1325, 20.6885, 44.7802) (6.3519, 38.1434, 44.7802) (-4.4287, 20.6885, 44.7802) (-12.6295, 3.5325, 44.7802) (6.3519, 2.9224, 44.7802) (25.3333, 3.5325, 44.7802) (17.1325, 20.6885, 43.1927) (6.3519, 38.1434, 43.1927) (-4.4287, 20.6885, 43.1927) (-12.6295, 3.5325, 43.1927) (6.3519, 2.9224, 43.1927) (25.3333, 3.5325, 43.1927) on bodies 3
move_body "Move6" bodies 3 to x (1, 0, 0) y (0, 1, 0) z (0, 0, 1) at (0, 0, -12.7)
hole "Hole5" at (12.7, 0, -6.0198) direction (0, 0, 1) diameter 3.429 depth 10.16 tip angle 180 bodies 1
hole "Hole6" at (0, 0, -6.0198) direction (0, 0, 1) diameter 3.429 depth 10.16 tip angle 180 bodies 1
extrude "Extrude21" cut sketch "Sketch10" against normal blind 6.35 contours A1 L1 L5 L7 L8 L12 L13 L14 A7 | A1 L1 L8 L12 | L1 L8 L10 L11 A8 | L1 L5 L7 L8 L11 L14 bodies 1
equation "d58 = ( 7 / 8 ) * 1 in"
equation "d104 = ( -3 / 32 ) * 1 in"
equation "d105 = ( 1 / 16 ) * 1 in + ( 1 / 2 ) * 1 in"
equation "d107 = ( 1 / 16 ) * 1 in"
equation "d118 = ( 3 / 8 ) * 1 in"
equation "d126 = ( 1 / 16 ) * 1 in"
equation "d128 = ( 1 / 16 ) * 1 in"
equation "d142 = ( -1 / 4 ) * 1 in"
